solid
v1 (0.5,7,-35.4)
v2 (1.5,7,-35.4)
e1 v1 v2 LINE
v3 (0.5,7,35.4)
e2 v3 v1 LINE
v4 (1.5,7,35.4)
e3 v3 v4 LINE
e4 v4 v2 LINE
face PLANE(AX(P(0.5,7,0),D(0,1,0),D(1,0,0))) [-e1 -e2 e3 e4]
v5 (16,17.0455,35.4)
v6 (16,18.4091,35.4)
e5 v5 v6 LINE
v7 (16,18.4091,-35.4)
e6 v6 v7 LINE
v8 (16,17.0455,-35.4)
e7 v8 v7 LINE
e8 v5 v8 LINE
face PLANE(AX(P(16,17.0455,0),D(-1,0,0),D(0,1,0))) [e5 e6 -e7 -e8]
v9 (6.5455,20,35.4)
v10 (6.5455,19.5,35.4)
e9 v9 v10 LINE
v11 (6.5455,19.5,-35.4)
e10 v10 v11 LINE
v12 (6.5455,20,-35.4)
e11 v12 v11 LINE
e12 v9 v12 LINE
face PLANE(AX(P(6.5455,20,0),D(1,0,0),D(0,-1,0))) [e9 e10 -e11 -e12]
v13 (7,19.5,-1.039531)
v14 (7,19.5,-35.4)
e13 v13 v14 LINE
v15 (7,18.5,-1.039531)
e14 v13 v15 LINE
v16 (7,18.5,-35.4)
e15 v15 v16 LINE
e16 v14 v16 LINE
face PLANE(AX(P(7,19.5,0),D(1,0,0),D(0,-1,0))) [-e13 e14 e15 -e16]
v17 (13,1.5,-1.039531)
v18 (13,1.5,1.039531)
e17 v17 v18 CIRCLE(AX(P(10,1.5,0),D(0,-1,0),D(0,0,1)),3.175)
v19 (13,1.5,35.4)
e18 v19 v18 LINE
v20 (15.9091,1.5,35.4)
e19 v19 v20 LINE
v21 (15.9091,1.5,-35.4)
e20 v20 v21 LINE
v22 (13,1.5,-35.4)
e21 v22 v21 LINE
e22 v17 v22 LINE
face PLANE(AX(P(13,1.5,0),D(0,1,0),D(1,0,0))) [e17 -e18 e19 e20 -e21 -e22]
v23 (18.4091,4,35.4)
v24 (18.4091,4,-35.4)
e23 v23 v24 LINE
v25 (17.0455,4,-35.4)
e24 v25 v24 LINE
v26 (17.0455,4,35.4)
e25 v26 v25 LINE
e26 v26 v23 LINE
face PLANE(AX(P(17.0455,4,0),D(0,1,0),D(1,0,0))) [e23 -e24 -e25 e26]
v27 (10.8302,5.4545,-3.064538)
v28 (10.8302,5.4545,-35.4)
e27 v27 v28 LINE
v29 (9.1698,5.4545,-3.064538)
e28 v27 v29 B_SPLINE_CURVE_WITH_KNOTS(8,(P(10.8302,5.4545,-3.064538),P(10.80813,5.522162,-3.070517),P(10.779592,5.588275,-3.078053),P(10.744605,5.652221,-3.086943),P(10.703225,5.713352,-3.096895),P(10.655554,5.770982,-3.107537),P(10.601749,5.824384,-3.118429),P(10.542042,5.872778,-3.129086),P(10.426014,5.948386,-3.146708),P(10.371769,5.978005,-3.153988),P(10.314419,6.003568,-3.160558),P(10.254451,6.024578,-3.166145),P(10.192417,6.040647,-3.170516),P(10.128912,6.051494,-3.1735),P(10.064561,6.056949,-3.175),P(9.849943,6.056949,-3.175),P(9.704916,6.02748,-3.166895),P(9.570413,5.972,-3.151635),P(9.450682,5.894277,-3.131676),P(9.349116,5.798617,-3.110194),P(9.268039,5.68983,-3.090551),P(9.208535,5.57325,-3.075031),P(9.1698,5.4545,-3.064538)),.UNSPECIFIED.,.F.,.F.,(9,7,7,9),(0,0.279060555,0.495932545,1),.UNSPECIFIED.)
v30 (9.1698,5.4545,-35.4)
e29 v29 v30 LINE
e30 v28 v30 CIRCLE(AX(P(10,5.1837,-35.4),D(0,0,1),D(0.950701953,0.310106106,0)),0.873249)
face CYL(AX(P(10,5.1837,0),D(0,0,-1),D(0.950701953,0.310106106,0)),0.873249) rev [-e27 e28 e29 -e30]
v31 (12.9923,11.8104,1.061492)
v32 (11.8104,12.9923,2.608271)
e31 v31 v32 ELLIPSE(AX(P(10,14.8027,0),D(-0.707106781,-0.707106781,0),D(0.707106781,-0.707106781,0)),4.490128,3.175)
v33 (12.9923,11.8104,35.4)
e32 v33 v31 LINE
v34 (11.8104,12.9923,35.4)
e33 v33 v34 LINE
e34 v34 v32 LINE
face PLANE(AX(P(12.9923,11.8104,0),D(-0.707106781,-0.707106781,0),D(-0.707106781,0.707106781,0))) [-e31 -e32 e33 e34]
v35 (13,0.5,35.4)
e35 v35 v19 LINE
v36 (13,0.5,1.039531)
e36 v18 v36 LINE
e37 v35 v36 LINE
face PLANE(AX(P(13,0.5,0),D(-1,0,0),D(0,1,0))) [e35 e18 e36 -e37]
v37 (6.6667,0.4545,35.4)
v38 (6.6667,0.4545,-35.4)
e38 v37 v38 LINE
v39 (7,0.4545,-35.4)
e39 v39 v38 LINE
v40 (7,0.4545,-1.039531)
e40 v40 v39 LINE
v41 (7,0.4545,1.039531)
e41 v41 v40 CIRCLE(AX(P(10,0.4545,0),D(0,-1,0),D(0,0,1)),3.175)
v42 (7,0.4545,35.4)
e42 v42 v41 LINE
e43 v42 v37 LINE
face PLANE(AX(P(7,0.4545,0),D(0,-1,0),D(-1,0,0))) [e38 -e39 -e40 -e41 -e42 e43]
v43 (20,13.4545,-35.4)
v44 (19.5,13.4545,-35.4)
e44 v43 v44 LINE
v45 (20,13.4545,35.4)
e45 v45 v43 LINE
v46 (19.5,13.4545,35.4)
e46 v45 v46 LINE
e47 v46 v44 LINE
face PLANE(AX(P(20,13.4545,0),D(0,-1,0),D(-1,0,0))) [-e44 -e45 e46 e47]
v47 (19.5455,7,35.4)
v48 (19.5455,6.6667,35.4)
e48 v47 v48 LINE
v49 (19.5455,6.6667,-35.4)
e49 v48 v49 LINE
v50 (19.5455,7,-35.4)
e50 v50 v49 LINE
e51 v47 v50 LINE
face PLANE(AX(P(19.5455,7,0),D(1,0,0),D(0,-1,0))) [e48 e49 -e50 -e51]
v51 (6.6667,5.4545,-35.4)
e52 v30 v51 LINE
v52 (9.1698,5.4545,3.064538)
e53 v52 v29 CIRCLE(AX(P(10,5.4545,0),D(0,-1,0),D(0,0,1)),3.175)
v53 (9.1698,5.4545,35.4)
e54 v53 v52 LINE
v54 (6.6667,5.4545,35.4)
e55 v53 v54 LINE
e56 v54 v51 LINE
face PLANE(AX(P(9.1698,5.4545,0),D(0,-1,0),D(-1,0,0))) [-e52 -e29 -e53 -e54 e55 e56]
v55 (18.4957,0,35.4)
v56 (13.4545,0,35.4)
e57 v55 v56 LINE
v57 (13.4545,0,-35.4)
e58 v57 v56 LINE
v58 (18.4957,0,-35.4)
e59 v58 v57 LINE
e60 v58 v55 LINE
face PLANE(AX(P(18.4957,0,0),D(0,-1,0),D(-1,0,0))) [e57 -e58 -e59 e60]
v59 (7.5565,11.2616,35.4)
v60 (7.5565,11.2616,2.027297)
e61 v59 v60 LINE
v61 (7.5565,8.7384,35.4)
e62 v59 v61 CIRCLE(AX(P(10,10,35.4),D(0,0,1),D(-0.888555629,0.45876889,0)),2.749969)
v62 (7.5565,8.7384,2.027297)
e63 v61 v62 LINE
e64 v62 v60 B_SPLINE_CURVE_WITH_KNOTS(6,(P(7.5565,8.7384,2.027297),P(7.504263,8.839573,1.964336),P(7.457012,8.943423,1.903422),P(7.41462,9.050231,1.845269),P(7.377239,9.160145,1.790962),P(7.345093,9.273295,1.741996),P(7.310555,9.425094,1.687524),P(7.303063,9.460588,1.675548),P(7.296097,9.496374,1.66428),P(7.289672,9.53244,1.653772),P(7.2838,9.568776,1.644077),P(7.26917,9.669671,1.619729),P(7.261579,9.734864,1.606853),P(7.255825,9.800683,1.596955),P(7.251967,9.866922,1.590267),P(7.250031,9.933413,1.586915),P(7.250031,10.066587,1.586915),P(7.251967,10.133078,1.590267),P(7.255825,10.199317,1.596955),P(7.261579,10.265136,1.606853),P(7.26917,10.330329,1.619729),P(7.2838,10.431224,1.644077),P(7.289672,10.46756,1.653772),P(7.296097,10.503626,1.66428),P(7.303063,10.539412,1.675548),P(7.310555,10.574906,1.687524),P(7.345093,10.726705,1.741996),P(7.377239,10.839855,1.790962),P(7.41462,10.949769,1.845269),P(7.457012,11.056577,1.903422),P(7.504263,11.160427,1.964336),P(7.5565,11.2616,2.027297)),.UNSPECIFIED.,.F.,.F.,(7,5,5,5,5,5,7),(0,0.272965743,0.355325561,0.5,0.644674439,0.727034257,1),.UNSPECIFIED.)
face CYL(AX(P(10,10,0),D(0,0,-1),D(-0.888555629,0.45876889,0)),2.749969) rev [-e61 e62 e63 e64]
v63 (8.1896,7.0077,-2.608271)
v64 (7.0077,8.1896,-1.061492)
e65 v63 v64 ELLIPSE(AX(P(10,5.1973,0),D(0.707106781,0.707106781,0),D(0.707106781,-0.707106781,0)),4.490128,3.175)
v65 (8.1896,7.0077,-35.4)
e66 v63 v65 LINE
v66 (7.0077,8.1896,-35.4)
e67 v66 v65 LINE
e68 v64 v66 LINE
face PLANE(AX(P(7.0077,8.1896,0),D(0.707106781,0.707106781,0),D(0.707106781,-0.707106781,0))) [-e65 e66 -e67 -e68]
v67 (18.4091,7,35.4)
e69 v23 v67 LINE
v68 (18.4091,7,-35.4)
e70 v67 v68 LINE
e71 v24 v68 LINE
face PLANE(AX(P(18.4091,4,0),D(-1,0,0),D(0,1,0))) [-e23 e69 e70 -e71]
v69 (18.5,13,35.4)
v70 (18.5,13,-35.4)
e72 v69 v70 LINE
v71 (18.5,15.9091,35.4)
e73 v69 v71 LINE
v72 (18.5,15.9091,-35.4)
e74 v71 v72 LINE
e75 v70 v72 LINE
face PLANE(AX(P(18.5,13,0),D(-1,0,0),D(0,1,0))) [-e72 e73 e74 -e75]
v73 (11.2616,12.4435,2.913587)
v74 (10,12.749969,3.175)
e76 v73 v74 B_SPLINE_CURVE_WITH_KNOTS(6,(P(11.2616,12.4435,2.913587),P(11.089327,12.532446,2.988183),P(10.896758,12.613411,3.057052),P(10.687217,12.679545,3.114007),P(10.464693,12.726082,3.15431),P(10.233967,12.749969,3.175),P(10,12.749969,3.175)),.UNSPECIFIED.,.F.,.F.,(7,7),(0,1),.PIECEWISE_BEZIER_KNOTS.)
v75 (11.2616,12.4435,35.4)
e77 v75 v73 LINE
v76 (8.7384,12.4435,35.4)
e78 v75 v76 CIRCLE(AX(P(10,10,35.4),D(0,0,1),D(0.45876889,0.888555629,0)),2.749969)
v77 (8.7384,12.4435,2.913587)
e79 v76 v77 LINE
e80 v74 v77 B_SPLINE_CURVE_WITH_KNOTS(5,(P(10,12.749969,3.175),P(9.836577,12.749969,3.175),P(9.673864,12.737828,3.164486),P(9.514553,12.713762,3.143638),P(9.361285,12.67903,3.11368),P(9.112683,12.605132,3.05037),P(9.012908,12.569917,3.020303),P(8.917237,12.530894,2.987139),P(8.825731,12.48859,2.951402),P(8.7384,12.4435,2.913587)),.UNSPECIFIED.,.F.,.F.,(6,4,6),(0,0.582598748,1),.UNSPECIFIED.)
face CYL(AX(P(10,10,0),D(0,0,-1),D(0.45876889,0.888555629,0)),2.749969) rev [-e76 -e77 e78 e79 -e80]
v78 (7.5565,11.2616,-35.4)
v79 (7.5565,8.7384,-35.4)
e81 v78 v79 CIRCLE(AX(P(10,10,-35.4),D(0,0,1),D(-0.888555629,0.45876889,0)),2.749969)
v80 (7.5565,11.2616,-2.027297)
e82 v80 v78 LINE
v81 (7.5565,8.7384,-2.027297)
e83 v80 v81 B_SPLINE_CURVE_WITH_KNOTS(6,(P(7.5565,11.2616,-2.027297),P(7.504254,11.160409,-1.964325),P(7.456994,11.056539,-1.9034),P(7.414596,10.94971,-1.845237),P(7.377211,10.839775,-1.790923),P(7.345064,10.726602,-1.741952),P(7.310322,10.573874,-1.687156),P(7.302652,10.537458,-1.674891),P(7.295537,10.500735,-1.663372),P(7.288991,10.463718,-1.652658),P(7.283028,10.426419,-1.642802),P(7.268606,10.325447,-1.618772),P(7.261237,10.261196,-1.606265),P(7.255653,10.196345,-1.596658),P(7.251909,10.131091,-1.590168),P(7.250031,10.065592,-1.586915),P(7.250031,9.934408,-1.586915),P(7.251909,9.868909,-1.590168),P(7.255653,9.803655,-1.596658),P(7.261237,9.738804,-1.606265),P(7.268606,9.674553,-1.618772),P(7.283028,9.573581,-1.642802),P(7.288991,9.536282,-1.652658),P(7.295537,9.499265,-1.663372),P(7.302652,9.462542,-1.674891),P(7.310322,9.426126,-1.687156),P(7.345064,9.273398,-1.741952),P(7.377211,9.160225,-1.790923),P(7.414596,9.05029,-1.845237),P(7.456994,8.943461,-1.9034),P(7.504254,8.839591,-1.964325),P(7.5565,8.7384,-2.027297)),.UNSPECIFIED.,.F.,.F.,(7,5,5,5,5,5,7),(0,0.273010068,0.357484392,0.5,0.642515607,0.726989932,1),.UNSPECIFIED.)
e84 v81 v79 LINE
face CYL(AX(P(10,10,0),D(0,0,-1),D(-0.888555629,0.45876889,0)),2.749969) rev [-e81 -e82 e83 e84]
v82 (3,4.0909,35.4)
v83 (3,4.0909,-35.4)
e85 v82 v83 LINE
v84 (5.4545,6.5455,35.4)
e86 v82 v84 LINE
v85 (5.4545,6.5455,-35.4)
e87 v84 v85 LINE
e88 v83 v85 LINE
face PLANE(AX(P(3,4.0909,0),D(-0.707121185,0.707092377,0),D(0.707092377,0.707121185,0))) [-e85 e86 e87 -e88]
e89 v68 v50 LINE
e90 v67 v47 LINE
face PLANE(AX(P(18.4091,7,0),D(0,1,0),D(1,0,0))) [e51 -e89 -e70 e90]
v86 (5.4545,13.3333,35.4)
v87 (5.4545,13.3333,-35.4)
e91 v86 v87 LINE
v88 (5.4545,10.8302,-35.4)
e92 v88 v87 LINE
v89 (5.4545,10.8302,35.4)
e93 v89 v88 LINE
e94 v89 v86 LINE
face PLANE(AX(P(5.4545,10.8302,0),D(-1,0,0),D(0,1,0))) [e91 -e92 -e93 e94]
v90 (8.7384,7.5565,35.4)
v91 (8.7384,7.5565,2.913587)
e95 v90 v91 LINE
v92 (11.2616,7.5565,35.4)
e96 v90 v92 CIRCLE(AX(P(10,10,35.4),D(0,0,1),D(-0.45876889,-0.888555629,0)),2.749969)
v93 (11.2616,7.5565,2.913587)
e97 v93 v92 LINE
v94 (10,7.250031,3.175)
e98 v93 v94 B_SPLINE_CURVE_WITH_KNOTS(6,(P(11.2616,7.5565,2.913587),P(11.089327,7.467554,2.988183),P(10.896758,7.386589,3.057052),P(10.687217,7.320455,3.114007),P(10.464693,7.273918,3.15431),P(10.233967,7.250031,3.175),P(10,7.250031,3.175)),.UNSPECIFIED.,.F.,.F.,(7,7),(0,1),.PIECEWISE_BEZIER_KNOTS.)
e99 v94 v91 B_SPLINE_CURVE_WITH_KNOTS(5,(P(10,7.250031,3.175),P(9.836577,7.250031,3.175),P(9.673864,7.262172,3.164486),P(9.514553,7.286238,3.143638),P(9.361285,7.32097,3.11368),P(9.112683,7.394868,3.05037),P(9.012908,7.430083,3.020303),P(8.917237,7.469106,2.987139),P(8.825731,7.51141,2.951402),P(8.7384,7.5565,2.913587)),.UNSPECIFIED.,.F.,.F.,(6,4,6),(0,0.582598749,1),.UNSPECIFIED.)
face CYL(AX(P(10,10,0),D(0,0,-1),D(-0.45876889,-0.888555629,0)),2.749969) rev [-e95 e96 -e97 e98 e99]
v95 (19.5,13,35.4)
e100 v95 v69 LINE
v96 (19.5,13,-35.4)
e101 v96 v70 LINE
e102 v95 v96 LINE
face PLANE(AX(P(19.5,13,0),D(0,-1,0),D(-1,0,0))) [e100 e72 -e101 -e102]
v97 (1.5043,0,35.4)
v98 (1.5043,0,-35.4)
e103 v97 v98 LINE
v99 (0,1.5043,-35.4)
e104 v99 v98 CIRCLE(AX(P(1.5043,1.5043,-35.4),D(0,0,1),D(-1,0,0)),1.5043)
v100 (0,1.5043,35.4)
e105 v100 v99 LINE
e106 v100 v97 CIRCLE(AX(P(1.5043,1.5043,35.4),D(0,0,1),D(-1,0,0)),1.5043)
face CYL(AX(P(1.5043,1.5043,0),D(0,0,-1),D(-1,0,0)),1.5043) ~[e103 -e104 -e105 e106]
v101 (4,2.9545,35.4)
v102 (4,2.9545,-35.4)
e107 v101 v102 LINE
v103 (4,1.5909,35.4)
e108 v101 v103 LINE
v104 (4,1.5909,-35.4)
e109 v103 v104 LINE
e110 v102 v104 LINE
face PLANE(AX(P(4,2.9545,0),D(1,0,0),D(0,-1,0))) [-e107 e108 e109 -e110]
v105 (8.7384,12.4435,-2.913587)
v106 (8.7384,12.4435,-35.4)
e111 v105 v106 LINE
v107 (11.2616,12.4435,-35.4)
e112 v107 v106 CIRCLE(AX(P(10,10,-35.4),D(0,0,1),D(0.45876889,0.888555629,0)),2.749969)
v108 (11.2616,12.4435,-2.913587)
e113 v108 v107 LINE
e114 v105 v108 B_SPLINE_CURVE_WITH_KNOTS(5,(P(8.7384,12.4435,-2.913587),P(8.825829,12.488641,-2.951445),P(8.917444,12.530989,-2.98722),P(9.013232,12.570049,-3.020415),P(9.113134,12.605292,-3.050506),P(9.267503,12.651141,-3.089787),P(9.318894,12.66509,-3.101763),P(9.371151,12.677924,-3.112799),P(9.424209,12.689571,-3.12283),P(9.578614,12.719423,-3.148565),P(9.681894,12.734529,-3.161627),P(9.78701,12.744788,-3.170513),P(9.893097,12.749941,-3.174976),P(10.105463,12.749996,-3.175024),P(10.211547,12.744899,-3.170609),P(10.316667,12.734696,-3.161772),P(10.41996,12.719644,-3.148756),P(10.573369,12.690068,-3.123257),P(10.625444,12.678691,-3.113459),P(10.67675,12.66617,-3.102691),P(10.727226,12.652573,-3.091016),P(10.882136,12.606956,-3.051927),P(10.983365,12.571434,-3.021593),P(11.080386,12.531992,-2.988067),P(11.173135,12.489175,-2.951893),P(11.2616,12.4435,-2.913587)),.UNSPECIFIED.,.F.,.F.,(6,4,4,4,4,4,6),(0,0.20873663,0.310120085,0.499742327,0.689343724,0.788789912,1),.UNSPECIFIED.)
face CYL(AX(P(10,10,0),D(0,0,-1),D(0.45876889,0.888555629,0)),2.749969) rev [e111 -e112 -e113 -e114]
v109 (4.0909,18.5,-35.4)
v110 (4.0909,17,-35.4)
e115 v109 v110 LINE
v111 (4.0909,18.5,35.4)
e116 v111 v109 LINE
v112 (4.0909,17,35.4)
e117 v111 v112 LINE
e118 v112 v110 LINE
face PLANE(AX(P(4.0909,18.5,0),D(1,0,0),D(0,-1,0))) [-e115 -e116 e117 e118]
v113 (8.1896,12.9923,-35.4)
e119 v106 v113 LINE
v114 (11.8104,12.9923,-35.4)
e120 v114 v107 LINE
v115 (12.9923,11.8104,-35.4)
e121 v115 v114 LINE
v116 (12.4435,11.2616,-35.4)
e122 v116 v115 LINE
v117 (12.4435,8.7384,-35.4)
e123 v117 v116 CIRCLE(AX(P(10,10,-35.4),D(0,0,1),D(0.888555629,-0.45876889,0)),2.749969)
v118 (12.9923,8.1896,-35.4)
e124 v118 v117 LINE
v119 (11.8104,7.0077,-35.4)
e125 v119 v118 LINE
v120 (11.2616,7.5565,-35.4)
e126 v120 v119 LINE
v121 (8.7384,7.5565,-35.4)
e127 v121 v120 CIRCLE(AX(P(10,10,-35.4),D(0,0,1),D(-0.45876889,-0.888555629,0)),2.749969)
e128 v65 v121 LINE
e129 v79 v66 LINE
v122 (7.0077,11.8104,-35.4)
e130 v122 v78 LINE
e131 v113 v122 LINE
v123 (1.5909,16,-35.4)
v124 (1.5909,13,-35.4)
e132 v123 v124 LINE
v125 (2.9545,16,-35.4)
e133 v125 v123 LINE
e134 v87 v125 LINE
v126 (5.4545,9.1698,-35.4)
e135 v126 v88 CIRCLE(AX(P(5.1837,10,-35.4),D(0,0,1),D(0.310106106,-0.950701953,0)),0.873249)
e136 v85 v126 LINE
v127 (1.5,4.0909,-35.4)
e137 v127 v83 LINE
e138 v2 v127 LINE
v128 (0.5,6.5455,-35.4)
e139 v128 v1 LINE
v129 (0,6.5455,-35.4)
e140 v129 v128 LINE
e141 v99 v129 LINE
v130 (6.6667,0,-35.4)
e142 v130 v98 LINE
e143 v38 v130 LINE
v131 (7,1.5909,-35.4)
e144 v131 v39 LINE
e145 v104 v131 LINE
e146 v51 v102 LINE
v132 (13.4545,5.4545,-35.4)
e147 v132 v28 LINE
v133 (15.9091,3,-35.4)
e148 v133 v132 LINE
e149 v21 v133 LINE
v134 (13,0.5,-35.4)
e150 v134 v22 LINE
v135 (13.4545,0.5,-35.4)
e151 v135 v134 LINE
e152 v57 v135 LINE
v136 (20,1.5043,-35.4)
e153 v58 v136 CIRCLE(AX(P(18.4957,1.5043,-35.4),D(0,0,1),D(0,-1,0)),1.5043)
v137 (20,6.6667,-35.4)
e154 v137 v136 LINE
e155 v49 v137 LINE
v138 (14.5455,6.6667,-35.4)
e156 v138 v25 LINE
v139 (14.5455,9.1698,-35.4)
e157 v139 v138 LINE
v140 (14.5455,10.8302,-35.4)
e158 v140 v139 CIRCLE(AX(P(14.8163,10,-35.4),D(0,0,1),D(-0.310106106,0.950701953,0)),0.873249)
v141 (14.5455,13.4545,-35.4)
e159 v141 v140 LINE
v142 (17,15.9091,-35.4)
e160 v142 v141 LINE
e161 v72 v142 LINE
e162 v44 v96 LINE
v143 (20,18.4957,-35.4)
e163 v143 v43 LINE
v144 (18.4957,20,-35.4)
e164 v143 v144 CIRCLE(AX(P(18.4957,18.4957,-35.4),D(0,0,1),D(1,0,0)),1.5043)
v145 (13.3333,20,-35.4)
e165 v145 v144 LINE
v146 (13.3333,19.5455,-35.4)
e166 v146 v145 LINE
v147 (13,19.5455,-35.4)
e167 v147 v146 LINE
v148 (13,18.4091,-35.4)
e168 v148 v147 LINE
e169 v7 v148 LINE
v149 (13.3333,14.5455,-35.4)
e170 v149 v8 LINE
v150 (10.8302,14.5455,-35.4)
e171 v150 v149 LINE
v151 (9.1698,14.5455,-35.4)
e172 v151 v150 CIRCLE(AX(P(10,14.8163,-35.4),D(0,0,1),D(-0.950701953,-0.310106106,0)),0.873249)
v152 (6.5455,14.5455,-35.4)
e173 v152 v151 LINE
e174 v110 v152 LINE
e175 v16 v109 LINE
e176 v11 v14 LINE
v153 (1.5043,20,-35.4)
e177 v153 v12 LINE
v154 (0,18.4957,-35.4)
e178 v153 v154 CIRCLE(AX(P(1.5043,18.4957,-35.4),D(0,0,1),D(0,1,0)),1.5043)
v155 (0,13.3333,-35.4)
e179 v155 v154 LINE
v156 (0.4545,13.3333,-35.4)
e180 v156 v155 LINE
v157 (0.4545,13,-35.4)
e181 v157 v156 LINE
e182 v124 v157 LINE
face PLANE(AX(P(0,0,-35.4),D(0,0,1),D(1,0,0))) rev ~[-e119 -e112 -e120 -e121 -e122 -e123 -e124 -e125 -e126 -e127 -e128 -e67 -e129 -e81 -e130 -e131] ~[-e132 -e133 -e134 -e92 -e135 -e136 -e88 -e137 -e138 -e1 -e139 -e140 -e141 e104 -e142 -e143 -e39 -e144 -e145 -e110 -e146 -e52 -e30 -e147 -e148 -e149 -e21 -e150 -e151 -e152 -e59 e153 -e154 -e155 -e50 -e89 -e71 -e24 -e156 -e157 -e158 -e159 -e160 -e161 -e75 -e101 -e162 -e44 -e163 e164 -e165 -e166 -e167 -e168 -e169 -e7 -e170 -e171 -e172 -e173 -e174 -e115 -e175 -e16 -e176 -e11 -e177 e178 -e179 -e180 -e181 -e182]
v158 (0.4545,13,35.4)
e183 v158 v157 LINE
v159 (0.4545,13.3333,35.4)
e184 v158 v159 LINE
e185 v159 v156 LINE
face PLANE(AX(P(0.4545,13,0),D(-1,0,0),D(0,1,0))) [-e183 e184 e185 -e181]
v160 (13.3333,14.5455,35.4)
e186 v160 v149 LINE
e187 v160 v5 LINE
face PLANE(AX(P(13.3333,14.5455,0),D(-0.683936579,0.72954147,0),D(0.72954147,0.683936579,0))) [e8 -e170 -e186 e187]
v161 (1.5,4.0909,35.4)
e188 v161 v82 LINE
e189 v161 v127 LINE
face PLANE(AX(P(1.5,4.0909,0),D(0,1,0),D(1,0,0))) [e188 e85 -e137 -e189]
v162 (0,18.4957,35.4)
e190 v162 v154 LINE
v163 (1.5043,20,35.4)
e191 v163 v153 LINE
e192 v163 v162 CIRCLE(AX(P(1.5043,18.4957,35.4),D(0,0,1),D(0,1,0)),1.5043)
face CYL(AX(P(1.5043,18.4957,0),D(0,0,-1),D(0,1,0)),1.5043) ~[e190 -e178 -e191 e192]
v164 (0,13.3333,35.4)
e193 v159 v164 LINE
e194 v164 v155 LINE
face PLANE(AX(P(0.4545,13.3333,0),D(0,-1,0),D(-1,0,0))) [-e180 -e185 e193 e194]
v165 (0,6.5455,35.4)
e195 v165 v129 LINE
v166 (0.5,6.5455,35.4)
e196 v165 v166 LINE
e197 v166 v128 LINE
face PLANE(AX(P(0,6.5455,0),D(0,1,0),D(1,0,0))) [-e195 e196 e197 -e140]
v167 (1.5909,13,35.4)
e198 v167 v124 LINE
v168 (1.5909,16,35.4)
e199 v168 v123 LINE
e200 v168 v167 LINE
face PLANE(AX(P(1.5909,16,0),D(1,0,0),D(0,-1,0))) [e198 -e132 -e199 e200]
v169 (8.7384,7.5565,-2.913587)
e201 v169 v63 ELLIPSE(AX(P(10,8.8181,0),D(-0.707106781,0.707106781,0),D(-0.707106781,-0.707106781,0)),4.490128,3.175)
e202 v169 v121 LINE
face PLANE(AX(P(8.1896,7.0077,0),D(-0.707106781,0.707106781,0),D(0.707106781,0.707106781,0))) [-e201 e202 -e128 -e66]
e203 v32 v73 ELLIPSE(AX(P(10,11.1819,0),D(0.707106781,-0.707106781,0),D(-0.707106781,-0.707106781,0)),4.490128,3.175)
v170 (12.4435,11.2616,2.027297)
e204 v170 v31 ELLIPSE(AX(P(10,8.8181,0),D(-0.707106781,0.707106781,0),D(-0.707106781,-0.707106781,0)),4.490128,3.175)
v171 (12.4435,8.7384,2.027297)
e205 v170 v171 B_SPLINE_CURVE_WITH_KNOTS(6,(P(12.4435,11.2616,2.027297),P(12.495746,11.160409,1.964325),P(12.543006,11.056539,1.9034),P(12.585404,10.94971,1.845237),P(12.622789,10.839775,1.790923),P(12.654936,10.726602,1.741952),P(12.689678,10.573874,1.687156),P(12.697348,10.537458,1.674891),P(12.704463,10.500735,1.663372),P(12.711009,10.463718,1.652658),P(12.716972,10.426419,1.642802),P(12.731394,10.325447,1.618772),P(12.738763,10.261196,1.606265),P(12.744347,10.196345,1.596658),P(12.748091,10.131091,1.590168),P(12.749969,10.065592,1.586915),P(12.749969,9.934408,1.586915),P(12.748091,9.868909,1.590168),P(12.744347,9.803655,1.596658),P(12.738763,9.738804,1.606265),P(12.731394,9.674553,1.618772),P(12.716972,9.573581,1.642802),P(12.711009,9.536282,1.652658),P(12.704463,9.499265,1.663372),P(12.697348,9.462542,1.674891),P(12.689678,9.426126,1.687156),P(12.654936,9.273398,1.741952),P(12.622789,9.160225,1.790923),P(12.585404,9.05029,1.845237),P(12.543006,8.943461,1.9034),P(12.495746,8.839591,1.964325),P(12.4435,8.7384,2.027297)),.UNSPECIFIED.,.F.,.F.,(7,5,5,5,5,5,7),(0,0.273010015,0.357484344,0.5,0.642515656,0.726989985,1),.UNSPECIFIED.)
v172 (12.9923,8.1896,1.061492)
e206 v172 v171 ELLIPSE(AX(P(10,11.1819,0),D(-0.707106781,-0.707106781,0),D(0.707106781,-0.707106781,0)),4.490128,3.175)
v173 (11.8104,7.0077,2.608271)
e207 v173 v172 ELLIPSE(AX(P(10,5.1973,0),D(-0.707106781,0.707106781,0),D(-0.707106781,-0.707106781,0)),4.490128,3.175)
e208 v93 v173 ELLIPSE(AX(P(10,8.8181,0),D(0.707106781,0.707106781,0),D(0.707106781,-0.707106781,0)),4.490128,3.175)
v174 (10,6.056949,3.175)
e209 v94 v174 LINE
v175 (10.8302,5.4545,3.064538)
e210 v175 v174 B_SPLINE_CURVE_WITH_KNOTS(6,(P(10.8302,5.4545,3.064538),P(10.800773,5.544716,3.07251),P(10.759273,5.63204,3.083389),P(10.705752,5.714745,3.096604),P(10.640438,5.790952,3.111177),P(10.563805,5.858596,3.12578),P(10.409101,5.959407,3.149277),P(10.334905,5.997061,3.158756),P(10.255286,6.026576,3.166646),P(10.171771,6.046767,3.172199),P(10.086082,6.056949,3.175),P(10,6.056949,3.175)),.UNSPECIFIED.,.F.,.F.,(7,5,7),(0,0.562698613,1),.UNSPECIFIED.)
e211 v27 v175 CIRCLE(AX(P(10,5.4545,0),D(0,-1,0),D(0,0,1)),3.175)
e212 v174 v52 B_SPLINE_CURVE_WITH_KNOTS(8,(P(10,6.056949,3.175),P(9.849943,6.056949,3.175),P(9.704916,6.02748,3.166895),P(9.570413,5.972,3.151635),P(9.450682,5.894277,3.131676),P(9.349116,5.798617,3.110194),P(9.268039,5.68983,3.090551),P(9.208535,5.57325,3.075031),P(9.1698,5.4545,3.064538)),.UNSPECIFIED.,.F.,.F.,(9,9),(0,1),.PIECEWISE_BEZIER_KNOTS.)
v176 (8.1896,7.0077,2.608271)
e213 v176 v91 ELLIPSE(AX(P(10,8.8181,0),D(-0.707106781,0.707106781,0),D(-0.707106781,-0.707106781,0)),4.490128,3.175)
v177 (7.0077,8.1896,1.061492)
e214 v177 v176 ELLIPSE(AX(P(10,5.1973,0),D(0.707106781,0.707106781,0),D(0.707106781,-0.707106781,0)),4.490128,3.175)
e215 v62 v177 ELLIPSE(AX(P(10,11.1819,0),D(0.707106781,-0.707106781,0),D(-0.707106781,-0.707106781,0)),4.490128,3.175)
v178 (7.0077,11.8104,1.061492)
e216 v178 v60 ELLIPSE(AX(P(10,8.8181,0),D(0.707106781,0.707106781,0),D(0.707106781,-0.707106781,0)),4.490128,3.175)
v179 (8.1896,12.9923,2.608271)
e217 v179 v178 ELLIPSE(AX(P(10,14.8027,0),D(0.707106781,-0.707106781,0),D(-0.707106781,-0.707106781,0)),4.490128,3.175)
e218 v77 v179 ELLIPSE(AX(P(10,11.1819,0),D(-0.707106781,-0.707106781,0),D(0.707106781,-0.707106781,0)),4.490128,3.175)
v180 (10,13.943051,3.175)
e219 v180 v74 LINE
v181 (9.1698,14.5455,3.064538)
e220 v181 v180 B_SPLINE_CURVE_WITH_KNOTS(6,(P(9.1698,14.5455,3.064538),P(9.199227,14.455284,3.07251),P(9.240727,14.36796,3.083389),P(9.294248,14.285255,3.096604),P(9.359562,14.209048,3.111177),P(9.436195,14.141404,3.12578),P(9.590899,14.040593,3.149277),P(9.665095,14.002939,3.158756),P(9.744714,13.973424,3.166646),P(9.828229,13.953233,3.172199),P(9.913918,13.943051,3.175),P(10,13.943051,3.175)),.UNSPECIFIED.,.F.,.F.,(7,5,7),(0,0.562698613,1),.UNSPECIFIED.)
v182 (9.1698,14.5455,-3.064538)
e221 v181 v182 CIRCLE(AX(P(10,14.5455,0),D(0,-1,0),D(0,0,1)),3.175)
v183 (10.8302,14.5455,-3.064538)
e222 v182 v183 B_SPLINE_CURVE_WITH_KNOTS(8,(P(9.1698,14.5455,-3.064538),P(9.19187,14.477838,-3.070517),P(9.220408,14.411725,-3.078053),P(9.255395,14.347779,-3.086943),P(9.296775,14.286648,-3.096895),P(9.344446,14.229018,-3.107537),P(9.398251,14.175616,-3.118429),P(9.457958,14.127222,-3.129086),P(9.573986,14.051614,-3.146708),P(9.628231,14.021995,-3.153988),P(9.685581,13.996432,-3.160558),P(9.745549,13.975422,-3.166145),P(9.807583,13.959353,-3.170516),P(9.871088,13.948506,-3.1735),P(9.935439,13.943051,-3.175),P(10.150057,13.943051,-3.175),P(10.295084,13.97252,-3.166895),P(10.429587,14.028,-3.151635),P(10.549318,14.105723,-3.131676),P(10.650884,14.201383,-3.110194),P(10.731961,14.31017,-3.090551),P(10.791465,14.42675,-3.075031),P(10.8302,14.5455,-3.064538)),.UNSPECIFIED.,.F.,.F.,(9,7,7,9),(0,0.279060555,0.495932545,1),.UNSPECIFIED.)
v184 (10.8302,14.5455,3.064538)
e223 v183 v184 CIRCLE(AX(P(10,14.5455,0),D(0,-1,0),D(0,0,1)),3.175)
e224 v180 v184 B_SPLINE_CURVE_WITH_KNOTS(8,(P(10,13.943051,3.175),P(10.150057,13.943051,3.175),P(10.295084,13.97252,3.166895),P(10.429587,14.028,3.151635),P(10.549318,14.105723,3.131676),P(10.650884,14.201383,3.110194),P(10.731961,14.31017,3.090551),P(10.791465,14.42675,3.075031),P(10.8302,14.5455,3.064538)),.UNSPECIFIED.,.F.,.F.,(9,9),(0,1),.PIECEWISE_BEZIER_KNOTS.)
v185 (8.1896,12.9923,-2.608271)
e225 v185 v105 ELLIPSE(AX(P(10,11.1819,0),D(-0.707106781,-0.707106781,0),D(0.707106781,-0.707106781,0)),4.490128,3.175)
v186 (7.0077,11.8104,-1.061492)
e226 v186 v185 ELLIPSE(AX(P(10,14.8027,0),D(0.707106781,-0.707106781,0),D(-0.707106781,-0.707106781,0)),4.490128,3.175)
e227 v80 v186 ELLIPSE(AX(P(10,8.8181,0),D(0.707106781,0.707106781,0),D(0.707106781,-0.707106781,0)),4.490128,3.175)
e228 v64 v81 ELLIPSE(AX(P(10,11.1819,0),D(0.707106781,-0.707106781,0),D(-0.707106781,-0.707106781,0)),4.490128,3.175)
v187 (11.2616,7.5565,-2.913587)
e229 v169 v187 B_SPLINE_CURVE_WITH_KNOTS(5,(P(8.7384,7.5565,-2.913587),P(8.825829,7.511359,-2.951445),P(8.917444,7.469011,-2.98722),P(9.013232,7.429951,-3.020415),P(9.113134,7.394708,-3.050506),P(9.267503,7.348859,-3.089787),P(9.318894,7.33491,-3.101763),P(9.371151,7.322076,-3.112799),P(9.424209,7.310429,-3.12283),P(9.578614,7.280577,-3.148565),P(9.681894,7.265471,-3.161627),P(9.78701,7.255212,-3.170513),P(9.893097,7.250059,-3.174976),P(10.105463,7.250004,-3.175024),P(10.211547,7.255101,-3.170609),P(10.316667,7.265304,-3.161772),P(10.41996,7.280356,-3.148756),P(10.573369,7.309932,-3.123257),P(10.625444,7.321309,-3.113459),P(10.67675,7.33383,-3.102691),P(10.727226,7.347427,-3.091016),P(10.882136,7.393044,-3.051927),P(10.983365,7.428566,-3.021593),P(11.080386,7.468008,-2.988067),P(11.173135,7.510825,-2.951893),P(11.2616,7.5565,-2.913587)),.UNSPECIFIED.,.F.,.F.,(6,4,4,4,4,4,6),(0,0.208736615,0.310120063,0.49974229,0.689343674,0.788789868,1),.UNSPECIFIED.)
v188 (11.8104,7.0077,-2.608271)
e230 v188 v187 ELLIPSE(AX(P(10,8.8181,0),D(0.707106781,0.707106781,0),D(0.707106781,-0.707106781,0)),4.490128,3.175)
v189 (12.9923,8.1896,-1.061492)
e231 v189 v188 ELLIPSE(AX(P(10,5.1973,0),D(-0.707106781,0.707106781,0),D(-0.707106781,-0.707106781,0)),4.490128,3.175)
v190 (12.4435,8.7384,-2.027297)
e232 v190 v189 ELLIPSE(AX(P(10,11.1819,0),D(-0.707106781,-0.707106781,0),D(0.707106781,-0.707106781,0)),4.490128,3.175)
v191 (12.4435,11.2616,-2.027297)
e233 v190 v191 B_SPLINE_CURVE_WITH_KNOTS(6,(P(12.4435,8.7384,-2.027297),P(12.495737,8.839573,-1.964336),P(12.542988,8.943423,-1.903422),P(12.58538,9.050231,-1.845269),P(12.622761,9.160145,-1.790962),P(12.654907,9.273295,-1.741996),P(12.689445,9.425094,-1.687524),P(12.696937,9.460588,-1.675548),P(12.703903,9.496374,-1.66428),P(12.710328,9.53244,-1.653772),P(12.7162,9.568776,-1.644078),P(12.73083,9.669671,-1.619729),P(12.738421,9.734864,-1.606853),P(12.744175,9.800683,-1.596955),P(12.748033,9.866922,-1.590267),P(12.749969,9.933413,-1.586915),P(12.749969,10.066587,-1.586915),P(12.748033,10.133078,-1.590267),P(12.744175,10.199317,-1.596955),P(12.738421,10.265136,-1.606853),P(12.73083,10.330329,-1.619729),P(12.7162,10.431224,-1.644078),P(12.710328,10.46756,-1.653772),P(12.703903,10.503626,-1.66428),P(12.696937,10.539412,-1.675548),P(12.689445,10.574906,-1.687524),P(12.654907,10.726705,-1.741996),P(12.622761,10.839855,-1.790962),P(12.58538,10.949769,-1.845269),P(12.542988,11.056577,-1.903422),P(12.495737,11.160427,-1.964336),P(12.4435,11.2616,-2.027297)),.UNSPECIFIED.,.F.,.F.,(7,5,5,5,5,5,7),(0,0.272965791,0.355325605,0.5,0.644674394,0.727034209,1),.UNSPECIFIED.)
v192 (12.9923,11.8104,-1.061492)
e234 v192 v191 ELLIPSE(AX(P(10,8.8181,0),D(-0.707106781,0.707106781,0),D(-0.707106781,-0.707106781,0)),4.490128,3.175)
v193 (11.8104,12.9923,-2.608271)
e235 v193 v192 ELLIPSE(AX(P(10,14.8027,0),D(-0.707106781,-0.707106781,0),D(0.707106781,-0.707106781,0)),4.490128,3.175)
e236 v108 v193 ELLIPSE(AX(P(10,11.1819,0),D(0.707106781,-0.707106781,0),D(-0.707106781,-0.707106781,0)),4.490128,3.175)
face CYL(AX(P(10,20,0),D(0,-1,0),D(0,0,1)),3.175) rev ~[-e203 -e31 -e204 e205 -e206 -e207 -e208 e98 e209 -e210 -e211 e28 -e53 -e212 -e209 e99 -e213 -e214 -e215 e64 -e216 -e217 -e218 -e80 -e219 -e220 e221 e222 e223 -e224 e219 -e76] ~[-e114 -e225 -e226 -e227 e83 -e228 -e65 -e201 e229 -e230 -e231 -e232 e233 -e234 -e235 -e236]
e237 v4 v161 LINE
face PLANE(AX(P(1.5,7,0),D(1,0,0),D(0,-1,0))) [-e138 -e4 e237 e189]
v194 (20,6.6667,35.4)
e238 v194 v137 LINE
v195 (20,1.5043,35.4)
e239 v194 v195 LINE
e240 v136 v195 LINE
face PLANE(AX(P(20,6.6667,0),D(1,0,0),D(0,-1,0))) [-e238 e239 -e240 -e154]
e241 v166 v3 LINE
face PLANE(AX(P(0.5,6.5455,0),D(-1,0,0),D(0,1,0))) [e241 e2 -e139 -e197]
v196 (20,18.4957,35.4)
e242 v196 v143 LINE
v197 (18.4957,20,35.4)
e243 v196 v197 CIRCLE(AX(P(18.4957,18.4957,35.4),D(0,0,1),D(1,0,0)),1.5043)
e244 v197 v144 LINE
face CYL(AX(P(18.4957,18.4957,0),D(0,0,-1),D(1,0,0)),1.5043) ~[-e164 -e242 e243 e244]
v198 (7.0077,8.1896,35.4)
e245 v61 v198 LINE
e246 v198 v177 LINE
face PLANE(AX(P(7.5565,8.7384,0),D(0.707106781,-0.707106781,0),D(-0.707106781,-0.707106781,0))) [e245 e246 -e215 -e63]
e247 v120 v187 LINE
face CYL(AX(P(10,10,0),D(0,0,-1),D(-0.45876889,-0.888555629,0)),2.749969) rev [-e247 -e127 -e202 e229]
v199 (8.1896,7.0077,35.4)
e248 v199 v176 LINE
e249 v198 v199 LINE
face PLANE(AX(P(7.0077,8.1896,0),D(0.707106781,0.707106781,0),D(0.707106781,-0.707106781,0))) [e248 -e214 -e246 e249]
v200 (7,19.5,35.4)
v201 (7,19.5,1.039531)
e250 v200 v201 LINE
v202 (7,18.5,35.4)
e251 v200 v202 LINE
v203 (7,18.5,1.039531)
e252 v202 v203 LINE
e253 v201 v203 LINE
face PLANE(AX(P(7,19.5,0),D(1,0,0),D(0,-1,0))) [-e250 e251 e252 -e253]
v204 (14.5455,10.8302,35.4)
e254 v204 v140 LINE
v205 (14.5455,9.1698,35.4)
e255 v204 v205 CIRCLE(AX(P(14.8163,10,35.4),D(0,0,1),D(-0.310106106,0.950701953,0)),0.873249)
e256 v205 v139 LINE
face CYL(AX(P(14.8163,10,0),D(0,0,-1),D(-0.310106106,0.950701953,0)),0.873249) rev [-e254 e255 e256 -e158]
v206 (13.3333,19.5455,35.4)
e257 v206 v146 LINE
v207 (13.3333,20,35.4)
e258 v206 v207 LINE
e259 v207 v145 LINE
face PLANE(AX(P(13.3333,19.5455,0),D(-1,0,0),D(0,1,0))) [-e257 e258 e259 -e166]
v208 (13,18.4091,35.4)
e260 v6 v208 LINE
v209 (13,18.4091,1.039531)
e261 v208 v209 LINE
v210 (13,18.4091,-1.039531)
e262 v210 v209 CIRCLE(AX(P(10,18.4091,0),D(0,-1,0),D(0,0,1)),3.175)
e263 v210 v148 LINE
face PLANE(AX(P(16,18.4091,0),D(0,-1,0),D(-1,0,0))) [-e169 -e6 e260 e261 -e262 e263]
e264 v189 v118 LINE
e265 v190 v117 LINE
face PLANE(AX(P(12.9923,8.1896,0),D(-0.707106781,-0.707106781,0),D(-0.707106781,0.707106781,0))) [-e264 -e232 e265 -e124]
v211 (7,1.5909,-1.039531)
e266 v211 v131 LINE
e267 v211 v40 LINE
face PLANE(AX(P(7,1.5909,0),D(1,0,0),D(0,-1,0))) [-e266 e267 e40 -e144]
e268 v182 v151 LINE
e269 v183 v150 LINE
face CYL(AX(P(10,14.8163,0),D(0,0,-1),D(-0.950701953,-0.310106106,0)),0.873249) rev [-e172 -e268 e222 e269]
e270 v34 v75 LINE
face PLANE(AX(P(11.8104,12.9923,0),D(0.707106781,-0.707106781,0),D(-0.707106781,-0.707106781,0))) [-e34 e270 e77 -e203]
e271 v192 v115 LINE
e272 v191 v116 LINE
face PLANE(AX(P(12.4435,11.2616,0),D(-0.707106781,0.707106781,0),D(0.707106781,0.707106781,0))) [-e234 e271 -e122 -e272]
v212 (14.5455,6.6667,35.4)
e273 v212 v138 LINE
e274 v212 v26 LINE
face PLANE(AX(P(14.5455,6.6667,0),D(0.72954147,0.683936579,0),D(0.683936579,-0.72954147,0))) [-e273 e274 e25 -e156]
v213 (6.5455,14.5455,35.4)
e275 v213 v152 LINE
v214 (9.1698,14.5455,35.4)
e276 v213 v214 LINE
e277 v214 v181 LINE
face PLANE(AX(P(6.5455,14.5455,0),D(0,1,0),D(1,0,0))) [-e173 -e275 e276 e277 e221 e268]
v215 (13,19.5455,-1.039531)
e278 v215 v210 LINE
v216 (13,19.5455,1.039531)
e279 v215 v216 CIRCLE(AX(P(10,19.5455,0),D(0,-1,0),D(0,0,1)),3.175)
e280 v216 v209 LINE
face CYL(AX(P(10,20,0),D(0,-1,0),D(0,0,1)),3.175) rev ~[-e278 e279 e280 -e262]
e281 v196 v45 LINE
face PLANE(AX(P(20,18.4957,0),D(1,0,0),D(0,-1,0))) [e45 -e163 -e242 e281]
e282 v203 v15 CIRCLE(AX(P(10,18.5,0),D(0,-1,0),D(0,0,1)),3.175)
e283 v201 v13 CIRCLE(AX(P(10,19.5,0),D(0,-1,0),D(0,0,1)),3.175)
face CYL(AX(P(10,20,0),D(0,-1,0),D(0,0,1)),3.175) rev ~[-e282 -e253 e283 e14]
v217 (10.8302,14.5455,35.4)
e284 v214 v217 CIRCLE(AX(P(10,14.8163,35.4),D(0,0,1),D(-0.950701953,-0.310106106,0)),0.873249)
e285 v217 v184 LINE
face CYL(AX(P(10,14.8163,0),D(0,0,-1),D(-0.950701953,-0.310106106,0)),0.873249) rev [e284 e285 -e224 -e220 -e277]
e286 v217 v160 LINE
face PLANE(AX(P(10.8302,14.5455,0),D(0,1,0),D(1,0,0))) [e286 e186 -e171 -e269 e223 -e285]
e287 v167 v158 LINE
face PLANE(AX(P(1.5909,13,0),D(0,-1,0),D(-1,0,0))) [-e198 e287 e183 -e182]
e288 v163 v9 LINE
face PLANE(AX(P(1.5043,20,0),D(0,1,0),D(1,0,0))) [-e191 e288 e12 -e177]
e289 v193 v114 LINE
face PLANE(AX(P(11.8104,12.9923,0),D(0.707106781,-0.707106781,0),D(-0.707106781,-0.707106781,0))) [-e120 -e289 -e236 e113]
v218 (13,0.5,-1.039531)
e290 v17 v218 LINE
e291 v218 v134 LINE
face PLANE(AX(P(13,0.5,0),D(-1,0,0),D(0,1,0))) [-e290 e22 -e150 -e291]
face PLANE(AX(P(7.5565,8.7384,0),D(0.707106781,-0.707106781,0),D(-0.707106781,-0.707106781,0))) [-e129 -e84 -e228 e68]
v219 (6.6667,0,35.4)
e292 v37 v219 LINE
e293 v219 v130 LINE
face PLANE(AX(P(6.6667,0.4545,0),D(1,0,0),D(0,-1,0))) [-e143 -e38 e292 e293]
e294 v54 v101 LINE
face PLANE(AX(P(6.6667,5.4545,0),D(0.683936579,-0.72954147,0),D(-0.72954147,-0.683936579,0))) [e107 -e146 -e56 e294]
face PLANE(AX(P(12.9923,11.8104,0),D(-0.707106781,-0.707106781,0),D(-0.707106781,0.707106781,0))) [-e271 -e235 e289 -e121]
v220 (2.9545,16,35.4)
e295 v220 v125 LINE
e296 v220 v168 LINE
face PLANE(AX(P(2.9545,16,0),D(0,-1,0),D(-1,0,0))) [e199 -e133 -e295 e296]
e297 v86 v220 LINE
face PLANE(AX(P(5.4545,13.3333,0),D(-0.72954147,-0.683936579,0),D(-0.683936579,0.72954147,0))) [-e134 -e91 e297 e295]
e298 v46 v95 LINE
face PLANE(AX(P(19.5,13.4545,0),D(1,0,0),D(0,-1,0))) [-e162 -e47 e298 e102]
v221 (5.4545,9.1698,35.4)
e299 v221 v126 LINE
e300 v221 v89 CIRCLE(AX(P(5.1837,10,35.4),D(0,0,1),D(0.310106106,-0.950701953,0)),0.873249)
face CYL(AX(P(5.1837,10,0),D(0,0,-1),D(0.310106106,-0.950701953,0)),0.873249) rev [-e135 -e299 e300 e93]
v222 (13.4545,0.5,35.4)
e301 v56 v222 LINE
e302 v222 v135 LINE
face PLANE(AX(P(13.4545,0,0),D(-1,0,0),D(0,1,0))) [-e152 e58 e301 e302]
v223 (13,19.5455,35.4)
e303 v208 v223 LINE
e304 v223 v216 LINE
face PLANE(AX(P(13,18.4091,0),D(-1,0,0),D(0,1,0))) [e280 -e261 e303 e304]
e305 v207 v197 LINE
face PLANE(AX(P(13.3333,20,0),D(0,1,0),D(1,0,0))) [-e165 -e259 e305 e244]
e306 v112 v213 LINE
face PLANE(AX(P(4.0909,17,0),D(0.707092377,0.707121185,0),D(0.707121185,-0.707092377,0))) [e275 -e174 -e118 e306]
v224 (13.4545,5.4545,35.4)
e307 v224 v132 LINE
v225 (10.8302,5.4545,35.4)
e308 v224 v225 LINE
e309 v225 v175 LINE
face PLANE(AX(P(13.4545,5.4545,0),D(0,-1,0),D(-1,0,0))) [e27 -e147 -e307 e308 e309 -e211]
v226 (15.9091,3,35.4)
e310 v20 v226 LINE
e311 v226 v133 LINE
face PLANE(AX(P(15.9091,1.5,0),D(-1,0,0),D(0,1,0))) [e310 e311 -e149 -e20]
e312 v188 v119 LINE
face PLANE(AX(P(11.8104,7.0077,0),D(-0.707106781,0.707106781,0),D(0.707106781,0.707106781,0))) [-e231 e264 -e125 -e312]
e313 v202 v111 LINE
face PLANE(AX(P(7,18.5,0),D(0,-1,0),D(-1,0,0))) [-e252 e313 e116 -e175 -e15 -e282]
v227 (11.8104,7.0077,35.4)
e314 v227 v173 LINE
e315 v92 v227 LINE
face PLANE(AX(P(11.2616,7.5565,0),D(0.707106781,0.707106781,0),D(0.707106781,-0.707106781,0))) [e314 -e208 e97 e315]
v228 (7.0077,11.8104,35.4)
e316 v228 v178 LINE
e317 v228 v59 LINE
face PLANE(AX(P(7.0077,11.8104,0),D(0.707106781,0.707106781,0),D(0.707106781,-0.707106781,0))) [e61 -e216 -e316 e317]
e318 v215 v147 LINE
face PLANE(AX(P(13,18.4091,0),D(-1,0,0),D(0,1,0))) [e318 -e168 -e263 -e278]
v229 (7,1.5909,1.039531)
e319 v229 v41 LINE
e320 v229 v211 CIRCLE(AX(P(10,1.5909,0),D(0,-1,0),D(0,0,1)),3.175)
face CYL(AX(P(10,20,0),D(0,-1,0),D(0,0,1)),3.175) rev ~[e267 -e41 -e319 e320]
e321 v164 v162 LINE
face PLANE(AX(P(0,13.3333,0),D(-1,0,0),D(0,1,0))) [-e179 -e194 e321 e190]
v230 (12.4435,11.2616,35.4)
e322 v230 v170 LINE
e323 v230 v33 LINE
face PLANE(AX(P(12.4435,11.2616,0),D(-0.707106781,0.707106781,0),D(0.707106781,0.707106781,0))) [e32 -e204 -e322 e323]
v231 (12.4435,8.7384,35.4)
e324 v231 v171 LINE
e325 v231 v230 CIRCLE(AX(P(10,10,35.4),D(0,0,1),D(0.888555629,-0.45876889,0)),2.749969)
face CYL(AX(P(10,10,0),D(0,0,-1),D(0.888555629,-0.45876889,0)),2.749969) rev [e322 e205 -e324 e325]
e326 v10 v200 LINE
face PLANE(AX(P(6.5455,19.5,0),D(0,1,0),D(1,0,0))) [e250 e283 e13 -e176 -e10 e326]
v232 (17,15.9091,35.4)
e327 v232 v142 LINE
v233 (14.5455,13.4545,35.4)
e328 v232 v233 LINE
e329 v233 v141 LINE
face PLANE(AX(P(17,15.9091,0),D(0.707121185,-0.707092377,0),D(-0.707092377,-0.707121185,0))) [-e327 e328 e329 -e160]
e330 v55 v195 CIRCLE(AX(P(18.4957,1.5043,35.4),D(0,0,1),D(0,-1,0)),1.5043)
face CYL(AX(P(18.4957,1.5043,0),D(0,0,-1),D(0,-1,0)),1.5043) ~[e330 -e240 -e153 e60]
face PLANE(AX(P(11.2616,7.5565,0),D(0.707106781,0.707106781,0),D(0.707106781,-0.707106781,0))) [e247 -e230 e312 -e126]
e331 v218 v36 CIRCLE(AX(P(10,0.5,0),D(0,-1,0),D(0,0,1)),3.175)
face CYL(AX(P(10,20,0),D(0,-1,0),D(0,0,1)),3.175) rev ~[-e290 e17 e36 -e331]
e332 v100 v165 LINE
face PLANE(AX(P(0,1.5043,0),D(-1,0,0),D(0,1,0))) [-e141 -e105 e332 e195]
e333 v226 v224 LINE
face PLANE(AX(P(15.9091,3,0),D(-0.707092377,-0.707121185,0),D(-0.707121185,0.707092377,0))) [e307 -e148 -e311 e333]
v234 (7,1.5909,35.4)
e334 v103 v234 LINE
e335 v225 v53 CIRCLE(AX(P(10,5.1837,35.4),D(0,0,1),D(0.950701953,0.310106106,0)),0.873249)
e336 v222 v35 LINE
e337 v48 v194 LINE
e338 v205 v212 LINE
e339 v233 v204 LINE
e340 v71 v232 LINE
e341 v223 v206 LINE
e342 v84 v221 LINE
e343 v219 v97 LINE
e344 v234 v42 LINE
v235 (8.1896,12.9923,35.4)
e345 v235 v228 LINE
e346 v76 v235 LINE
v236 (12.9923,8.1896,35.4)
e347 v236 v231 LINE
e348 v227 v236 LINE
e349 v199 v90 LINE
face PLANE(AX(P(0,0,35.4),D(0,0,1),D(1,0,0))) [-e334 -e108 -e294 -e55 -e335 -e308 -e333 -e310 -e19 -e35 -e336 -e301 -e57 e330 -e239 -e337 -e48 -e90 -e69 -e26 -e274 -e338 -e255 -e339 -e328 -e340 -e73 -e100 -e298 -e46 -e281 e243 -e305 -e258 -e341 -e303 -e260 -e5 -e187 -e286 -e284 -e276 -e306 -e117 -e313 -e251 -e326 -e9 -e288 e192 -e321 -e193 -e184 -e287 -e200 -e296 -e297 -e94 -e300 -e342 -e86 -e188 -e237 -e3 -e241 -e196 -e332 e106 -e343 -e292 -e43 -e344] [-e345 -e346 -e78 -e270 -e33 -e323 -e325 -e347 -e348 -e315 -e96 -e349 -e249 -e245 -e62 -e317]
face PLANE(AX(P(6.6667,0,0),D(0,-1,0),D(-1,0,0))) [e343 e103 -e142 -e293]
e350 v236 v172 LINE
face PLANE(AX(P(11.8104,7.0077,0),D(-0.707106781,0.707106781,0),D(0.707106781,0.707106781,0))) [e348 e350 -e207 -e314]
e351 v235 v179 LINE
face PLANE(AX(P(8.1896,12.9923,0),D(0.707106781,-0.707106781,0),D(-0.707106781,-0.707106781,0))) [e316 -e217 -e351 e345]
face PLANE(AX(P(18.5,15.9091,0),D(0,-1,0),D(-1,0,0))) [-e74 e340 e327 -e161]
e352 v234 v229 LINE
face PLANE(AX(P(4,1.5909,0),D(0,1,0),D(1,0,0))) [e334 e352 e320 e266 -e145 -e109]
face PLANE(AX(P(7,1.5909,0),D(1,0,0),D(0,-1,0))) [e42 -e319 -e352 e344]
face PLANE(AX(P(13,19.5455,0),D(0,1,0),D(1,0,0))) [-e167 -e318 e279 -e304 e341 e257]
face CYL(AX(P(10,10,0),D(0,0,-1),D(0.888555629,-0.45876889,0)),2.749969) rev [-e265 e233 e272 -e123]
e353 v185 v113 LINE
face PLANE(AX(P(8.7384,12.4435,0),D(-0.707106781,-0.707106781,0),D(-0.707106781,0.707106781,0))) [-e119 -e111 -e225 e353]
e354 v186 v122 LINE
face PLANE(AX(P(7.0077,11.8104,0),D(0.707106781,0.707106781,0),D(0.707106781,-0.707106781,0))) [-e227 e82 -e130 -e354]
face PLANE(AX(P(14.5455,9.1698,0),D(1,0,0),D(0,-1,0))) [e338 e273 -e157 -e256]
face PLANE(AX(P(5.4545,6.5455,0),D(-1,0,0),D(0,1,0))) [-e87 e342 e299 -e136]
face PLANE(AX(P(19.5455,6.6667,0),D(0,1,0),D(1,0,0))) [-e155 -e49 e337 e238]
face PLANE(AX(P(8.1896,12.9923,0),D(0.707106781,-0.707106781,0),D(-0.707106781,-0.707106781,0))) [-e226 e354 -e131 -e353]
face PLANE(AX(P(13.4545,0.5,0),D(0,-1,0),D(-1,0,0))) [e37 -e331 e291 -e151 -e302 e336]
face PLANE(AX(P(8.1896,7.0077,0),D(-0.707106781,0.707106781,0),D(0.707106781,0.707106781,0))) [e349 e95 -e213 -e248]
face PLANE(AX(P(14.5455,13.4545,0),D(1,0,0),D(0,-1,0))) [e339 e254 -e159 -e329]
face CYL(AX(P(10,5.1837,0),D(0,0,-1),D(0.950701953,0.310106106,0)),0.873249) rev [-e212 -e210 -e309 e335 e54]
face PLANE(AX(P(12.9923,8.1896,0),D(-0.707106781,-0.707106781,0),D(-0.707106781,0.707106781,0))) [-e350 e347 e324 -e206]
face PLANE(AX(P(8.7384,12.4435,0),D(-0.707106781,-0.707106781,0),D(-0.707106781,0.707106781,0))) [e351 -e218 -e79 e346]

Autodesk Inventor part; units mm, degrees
sketch "Sketch1" plane through (0, 0, 0) normal (0, 0, 1) x (1, 0, 0)
  line L0 (11.2616, 7.5565) -> (11.8104, 7.0077)
  line L1 (11.8104, 7.0077) -> (12.9923, 8.1896)
  line L2 (12.9923, 8.1896) -> (12.4435, 8.7384)
  arc A0 (12.4435, 8.7384) -> (12.4435, 11.2616) centre (10, 10) ccw
  line L3 (12.4435, 11.2616) -> (12.9923, 11.8104)
  line L4 (12.9923, 11.8104) -> (11.8104, 12.9923)
  line L5 (11.8104, 12.9923) -> (11.2616, 12.4435)
  arc A1 (11.2616, 12.4435) -> (8.7384, 12.4435) centre (10, 10) ccw
  line L6 (8.7384, 12.4435) -> (8.1896, 12.9923)
  line L7 (8.1896, 12.9923) -> (7.0077, 11.8104)
  line L8 (7.0077, 11.8104) -> (7.5565, 11.2616)
  arc A2 (7.5565, 11.2616) -> (7.5565, 8.7384) centre (10, 10) ccw
  line L9 (7.5565, 8.7384) -> (7.0077, 8.1896)
  line L10 (7.0077, 8.1896) -> (8.1896, 7.0077)
  line L11 (8.1896, 7.0077) -> (8.7384, 7.5565)
  arc A3 (8.7384, 7.5565) -> (11.2616, 7.5565) centre (10, 10) ccw
  line L12 (13.4545, 0) -> (13.4545, 0.5)
  line L13 (13.4545, 0.5) -> (13, 0.5)
  line L14 (13, 0.5) -> (13, 1.5)
  line L15 (13, 1.5) -> (15.9091, 1.5)
  line L16 (15.9091, 1.5) -> (15.9091, 3)
  line L17 (15.9091, 3) -> (13.4545, 5.4545)
  line L18 (13.4545, 5.4545) -> (10.8302, 5.4545)
  arc A4 (10.8302, 5.4545) -> (9.1698, 5.4545) centre (10, 5.1837) ccw
  line L19 (9.1698, 5.4545) -> (6.6667, 5.4545)
  line L20 (6.6667, 5.4545) -> (4, 2.9545)
  line L21 (4, 2.9545) -> (4, 1.5909)
  line L22 (4, 1.5909) -> (7, 1.5909)
  line L23 (7, 1.5909) -> (7, 0.4545)
  line L24 (7, 0.4545) -> (6.6667, 0.4545)
  line L25 (6.6667, 0.4545) -> (6.6667, 0)
  line L26 (6.6667, 0) -> (1.5043, 0)
  arc A5 (0, 1.5043) -> (1.5043, 0) centre (1.5043, 1.5043) ccw
  line L27 (0, 1.5043) -> (0, 6.5455)
  line L28 (0, 6.5455) -> (0.5, 6.5455)
  line L29 (0.5, 6.5455) -> (0.5, 7)
  line L30 (0.5, 7) -> (1.5, 7)
  line L31 (1.5, 7) -> (1.5, 4.0909)
  line L32 (1.5, 4.0909) -> (3, 4.0909)
  line L33 (3, 4.0909) -> (5.4545, 6.5455)
  line L34 (5.4545, 6.5455) -> (5.4545, 9.1698)
  arc A6 (5.4545, 9.1698) -> (5.4545, 10.8302) centre (5.1837, 10) ccw
  line L35 (5.4545, 10.8302) -> (5.4545, 13.3333)
  line L36 (5.4545, 13.3333) -> (2.9545, 16)
  line L37 (2.9545, 16) -> (1.5909, 16)
  line L38 (1.5909, 16) -> (1.5909, 13)
  line L39 (1.5909, 13) -> (0.4545, 13)
  line L40 (0.4545, 13) -> (0.4545, 13.3333)
  line L41 (0.4545, 13.3333) -> (0, 13.3333)
  line L42 (0, 13.3333) -> (0, 18.4957)
  arc A7 (1.5043, 20) -> (0, 18.4957) centre (1.5043, 18.4957) ccw
  line L43 (1.5043, 20) -> (6.5455, 20)
  line L44 (6.5455, 20) -> (6.5455, 19.5)
  line L45 (6.5455, 19.5) -> (7, 19.5)
  line L46 (7, 19.5) -> (7, 18.5)
  line L47 (7, 18.5) -> (4.0909, 18.5)
  line L48 (4.0909, 18.5) -> (4.0909, 17)
  line L49 (4.0909, 17) -> (6.5455, 14.5455)
  line L50 (6.5455, 14.5455) -> (9.1698, 14.5455)
  arc A8 (9.1698, 14.5455) -> (10.8302, 14.5455) centre (10, 14.8163) ccw
  line L51 (10.8302, 14.5455) -> (13.3333, 14.5455)
  line L52 (13.3333, 14.5455) -> (16, 17.0455)
  line L53 (16, 17.0455) -> (16, 18.4091)
  line L54 (16, 18.4091) -> (13, 18.4091)
  line L55 (13, 18.4091) -> (13, 19.5455)
  line L56 (13, 19.5455) -> (13.3333, 19.5455)
  line L57 (13.3333, 19.5455) -> (13.3333, 20)
  line L58 (13.3333, 20) -> (18.4957, 20)
  arc A9 (20, 18.4957) -> (18.4957, 20) centre (18.4957, 18.4957) ccw
  line L59 (20, 18.4957) -> (20, 13.4545)
  line L60 (20, 13.4545) -> (19.5, 13.4545)
  line L61 (19.5, 13.4545) -> (19.5, 13)
  line L62 (19.5, 13) -> (18.5, 13)
  line L63 (18.5, 13) -> (18.5, 15.9091)
  line L64 (18.5, 15.9091) -> (17, 15.9091)
  line L65 (17, 15.9091) -> (14.5455, 13.4545)
  line L66 (14.5455, 13.4545) -> (14.5455, 10.8302)
  arc A10 (14.5455, 10.8302) -> (14.5455, 9.1698) centre (14.8163, 10) ccw
  line L67 (14.5455, 9.1698) -> (14.5455, 6.6667)
  line L68 (14.5455, 6.6667) -> (17.0455, 4)
  line L69 (17.0455, 4) -> (18.4091, 4)
  line L70 (18.4091, 4) -> (18.4091, 7)
  line L71 (18.4091, 7) -> (19.5455, 7)
  line L72 (19.5455, 7) -> (19.5455, 6.6667)
  line L73 (19.5455, 6.6667) -> (20, 6.6667)
  line L74 (20, 6.6667) -> (20, 1.5043)
  arc A11 (18.4957, 0) -> (20, 1.5043) centre (18.4957, 1.5043) ccw
  line L75 (18.4957, 0) -> (13.4545, 0)
  point P0 (0, 0)
  point P1 (0.4406, 0.4406)
  point P2 (10, 0)
  point P3 (10, 0)
  point P4 (10, 0)
  point P5 (19.5594, 0.4406)
  point P6 (0, 10)
  point P7 (0, 10)
  point P8 (0, 10)
  point P9 (10, 10)
  point P10 (20, 10)
  point P11 (20, 10)
  point P12 (20, 10)
  point P13 (0.4406, 19.5594)
  point P14 (10, 20)
  point P15 (10, 20)
  point P16 (10, 20)
  point P17 (19.5594, 19.5594)
extrude "Extrusion1" add sketch "Sketch1" along normal mid plane 70.8
ref_plane "Work Plane1" through (0, 0, 0) normal (0, 0, 1) x (1, 0, 0)
ref_plane "Work Plane2" through (10, 13.4545, 35.4) normal (1, 0, 0) x (0, 0, -1)
ref_plane "Work Plane3" through (13.3333, 20, 35.4) normal (0, 1, 0) x (1, 0, 0)
sketch "Sketch2" plane through (13.3333, 20, 35.4) normal (0, 1, 0) x (1, 0, 0)
  point P0 (-13.3333, 35.4)
ref_plane "Work Plane4" through (20, 13.4545, 35.4) normal (1, 0, 0) x (0, 0, -1)
sketch "Sketch3" plane through (13.3333, 20, 35.4) normal (0, 1, 0) x (1, 0, 0)
  line L0 (0, 70.8) -> (0, 0) projected
  line L1 (-13.3333, 35.4) -> (-3.3333, 35.4)
  dimension "d4" = 10
hole "Hole1" at (10, 20, 0) direction (0, -1, 0) diameter 6.35 end through all
properties part number "openside"
